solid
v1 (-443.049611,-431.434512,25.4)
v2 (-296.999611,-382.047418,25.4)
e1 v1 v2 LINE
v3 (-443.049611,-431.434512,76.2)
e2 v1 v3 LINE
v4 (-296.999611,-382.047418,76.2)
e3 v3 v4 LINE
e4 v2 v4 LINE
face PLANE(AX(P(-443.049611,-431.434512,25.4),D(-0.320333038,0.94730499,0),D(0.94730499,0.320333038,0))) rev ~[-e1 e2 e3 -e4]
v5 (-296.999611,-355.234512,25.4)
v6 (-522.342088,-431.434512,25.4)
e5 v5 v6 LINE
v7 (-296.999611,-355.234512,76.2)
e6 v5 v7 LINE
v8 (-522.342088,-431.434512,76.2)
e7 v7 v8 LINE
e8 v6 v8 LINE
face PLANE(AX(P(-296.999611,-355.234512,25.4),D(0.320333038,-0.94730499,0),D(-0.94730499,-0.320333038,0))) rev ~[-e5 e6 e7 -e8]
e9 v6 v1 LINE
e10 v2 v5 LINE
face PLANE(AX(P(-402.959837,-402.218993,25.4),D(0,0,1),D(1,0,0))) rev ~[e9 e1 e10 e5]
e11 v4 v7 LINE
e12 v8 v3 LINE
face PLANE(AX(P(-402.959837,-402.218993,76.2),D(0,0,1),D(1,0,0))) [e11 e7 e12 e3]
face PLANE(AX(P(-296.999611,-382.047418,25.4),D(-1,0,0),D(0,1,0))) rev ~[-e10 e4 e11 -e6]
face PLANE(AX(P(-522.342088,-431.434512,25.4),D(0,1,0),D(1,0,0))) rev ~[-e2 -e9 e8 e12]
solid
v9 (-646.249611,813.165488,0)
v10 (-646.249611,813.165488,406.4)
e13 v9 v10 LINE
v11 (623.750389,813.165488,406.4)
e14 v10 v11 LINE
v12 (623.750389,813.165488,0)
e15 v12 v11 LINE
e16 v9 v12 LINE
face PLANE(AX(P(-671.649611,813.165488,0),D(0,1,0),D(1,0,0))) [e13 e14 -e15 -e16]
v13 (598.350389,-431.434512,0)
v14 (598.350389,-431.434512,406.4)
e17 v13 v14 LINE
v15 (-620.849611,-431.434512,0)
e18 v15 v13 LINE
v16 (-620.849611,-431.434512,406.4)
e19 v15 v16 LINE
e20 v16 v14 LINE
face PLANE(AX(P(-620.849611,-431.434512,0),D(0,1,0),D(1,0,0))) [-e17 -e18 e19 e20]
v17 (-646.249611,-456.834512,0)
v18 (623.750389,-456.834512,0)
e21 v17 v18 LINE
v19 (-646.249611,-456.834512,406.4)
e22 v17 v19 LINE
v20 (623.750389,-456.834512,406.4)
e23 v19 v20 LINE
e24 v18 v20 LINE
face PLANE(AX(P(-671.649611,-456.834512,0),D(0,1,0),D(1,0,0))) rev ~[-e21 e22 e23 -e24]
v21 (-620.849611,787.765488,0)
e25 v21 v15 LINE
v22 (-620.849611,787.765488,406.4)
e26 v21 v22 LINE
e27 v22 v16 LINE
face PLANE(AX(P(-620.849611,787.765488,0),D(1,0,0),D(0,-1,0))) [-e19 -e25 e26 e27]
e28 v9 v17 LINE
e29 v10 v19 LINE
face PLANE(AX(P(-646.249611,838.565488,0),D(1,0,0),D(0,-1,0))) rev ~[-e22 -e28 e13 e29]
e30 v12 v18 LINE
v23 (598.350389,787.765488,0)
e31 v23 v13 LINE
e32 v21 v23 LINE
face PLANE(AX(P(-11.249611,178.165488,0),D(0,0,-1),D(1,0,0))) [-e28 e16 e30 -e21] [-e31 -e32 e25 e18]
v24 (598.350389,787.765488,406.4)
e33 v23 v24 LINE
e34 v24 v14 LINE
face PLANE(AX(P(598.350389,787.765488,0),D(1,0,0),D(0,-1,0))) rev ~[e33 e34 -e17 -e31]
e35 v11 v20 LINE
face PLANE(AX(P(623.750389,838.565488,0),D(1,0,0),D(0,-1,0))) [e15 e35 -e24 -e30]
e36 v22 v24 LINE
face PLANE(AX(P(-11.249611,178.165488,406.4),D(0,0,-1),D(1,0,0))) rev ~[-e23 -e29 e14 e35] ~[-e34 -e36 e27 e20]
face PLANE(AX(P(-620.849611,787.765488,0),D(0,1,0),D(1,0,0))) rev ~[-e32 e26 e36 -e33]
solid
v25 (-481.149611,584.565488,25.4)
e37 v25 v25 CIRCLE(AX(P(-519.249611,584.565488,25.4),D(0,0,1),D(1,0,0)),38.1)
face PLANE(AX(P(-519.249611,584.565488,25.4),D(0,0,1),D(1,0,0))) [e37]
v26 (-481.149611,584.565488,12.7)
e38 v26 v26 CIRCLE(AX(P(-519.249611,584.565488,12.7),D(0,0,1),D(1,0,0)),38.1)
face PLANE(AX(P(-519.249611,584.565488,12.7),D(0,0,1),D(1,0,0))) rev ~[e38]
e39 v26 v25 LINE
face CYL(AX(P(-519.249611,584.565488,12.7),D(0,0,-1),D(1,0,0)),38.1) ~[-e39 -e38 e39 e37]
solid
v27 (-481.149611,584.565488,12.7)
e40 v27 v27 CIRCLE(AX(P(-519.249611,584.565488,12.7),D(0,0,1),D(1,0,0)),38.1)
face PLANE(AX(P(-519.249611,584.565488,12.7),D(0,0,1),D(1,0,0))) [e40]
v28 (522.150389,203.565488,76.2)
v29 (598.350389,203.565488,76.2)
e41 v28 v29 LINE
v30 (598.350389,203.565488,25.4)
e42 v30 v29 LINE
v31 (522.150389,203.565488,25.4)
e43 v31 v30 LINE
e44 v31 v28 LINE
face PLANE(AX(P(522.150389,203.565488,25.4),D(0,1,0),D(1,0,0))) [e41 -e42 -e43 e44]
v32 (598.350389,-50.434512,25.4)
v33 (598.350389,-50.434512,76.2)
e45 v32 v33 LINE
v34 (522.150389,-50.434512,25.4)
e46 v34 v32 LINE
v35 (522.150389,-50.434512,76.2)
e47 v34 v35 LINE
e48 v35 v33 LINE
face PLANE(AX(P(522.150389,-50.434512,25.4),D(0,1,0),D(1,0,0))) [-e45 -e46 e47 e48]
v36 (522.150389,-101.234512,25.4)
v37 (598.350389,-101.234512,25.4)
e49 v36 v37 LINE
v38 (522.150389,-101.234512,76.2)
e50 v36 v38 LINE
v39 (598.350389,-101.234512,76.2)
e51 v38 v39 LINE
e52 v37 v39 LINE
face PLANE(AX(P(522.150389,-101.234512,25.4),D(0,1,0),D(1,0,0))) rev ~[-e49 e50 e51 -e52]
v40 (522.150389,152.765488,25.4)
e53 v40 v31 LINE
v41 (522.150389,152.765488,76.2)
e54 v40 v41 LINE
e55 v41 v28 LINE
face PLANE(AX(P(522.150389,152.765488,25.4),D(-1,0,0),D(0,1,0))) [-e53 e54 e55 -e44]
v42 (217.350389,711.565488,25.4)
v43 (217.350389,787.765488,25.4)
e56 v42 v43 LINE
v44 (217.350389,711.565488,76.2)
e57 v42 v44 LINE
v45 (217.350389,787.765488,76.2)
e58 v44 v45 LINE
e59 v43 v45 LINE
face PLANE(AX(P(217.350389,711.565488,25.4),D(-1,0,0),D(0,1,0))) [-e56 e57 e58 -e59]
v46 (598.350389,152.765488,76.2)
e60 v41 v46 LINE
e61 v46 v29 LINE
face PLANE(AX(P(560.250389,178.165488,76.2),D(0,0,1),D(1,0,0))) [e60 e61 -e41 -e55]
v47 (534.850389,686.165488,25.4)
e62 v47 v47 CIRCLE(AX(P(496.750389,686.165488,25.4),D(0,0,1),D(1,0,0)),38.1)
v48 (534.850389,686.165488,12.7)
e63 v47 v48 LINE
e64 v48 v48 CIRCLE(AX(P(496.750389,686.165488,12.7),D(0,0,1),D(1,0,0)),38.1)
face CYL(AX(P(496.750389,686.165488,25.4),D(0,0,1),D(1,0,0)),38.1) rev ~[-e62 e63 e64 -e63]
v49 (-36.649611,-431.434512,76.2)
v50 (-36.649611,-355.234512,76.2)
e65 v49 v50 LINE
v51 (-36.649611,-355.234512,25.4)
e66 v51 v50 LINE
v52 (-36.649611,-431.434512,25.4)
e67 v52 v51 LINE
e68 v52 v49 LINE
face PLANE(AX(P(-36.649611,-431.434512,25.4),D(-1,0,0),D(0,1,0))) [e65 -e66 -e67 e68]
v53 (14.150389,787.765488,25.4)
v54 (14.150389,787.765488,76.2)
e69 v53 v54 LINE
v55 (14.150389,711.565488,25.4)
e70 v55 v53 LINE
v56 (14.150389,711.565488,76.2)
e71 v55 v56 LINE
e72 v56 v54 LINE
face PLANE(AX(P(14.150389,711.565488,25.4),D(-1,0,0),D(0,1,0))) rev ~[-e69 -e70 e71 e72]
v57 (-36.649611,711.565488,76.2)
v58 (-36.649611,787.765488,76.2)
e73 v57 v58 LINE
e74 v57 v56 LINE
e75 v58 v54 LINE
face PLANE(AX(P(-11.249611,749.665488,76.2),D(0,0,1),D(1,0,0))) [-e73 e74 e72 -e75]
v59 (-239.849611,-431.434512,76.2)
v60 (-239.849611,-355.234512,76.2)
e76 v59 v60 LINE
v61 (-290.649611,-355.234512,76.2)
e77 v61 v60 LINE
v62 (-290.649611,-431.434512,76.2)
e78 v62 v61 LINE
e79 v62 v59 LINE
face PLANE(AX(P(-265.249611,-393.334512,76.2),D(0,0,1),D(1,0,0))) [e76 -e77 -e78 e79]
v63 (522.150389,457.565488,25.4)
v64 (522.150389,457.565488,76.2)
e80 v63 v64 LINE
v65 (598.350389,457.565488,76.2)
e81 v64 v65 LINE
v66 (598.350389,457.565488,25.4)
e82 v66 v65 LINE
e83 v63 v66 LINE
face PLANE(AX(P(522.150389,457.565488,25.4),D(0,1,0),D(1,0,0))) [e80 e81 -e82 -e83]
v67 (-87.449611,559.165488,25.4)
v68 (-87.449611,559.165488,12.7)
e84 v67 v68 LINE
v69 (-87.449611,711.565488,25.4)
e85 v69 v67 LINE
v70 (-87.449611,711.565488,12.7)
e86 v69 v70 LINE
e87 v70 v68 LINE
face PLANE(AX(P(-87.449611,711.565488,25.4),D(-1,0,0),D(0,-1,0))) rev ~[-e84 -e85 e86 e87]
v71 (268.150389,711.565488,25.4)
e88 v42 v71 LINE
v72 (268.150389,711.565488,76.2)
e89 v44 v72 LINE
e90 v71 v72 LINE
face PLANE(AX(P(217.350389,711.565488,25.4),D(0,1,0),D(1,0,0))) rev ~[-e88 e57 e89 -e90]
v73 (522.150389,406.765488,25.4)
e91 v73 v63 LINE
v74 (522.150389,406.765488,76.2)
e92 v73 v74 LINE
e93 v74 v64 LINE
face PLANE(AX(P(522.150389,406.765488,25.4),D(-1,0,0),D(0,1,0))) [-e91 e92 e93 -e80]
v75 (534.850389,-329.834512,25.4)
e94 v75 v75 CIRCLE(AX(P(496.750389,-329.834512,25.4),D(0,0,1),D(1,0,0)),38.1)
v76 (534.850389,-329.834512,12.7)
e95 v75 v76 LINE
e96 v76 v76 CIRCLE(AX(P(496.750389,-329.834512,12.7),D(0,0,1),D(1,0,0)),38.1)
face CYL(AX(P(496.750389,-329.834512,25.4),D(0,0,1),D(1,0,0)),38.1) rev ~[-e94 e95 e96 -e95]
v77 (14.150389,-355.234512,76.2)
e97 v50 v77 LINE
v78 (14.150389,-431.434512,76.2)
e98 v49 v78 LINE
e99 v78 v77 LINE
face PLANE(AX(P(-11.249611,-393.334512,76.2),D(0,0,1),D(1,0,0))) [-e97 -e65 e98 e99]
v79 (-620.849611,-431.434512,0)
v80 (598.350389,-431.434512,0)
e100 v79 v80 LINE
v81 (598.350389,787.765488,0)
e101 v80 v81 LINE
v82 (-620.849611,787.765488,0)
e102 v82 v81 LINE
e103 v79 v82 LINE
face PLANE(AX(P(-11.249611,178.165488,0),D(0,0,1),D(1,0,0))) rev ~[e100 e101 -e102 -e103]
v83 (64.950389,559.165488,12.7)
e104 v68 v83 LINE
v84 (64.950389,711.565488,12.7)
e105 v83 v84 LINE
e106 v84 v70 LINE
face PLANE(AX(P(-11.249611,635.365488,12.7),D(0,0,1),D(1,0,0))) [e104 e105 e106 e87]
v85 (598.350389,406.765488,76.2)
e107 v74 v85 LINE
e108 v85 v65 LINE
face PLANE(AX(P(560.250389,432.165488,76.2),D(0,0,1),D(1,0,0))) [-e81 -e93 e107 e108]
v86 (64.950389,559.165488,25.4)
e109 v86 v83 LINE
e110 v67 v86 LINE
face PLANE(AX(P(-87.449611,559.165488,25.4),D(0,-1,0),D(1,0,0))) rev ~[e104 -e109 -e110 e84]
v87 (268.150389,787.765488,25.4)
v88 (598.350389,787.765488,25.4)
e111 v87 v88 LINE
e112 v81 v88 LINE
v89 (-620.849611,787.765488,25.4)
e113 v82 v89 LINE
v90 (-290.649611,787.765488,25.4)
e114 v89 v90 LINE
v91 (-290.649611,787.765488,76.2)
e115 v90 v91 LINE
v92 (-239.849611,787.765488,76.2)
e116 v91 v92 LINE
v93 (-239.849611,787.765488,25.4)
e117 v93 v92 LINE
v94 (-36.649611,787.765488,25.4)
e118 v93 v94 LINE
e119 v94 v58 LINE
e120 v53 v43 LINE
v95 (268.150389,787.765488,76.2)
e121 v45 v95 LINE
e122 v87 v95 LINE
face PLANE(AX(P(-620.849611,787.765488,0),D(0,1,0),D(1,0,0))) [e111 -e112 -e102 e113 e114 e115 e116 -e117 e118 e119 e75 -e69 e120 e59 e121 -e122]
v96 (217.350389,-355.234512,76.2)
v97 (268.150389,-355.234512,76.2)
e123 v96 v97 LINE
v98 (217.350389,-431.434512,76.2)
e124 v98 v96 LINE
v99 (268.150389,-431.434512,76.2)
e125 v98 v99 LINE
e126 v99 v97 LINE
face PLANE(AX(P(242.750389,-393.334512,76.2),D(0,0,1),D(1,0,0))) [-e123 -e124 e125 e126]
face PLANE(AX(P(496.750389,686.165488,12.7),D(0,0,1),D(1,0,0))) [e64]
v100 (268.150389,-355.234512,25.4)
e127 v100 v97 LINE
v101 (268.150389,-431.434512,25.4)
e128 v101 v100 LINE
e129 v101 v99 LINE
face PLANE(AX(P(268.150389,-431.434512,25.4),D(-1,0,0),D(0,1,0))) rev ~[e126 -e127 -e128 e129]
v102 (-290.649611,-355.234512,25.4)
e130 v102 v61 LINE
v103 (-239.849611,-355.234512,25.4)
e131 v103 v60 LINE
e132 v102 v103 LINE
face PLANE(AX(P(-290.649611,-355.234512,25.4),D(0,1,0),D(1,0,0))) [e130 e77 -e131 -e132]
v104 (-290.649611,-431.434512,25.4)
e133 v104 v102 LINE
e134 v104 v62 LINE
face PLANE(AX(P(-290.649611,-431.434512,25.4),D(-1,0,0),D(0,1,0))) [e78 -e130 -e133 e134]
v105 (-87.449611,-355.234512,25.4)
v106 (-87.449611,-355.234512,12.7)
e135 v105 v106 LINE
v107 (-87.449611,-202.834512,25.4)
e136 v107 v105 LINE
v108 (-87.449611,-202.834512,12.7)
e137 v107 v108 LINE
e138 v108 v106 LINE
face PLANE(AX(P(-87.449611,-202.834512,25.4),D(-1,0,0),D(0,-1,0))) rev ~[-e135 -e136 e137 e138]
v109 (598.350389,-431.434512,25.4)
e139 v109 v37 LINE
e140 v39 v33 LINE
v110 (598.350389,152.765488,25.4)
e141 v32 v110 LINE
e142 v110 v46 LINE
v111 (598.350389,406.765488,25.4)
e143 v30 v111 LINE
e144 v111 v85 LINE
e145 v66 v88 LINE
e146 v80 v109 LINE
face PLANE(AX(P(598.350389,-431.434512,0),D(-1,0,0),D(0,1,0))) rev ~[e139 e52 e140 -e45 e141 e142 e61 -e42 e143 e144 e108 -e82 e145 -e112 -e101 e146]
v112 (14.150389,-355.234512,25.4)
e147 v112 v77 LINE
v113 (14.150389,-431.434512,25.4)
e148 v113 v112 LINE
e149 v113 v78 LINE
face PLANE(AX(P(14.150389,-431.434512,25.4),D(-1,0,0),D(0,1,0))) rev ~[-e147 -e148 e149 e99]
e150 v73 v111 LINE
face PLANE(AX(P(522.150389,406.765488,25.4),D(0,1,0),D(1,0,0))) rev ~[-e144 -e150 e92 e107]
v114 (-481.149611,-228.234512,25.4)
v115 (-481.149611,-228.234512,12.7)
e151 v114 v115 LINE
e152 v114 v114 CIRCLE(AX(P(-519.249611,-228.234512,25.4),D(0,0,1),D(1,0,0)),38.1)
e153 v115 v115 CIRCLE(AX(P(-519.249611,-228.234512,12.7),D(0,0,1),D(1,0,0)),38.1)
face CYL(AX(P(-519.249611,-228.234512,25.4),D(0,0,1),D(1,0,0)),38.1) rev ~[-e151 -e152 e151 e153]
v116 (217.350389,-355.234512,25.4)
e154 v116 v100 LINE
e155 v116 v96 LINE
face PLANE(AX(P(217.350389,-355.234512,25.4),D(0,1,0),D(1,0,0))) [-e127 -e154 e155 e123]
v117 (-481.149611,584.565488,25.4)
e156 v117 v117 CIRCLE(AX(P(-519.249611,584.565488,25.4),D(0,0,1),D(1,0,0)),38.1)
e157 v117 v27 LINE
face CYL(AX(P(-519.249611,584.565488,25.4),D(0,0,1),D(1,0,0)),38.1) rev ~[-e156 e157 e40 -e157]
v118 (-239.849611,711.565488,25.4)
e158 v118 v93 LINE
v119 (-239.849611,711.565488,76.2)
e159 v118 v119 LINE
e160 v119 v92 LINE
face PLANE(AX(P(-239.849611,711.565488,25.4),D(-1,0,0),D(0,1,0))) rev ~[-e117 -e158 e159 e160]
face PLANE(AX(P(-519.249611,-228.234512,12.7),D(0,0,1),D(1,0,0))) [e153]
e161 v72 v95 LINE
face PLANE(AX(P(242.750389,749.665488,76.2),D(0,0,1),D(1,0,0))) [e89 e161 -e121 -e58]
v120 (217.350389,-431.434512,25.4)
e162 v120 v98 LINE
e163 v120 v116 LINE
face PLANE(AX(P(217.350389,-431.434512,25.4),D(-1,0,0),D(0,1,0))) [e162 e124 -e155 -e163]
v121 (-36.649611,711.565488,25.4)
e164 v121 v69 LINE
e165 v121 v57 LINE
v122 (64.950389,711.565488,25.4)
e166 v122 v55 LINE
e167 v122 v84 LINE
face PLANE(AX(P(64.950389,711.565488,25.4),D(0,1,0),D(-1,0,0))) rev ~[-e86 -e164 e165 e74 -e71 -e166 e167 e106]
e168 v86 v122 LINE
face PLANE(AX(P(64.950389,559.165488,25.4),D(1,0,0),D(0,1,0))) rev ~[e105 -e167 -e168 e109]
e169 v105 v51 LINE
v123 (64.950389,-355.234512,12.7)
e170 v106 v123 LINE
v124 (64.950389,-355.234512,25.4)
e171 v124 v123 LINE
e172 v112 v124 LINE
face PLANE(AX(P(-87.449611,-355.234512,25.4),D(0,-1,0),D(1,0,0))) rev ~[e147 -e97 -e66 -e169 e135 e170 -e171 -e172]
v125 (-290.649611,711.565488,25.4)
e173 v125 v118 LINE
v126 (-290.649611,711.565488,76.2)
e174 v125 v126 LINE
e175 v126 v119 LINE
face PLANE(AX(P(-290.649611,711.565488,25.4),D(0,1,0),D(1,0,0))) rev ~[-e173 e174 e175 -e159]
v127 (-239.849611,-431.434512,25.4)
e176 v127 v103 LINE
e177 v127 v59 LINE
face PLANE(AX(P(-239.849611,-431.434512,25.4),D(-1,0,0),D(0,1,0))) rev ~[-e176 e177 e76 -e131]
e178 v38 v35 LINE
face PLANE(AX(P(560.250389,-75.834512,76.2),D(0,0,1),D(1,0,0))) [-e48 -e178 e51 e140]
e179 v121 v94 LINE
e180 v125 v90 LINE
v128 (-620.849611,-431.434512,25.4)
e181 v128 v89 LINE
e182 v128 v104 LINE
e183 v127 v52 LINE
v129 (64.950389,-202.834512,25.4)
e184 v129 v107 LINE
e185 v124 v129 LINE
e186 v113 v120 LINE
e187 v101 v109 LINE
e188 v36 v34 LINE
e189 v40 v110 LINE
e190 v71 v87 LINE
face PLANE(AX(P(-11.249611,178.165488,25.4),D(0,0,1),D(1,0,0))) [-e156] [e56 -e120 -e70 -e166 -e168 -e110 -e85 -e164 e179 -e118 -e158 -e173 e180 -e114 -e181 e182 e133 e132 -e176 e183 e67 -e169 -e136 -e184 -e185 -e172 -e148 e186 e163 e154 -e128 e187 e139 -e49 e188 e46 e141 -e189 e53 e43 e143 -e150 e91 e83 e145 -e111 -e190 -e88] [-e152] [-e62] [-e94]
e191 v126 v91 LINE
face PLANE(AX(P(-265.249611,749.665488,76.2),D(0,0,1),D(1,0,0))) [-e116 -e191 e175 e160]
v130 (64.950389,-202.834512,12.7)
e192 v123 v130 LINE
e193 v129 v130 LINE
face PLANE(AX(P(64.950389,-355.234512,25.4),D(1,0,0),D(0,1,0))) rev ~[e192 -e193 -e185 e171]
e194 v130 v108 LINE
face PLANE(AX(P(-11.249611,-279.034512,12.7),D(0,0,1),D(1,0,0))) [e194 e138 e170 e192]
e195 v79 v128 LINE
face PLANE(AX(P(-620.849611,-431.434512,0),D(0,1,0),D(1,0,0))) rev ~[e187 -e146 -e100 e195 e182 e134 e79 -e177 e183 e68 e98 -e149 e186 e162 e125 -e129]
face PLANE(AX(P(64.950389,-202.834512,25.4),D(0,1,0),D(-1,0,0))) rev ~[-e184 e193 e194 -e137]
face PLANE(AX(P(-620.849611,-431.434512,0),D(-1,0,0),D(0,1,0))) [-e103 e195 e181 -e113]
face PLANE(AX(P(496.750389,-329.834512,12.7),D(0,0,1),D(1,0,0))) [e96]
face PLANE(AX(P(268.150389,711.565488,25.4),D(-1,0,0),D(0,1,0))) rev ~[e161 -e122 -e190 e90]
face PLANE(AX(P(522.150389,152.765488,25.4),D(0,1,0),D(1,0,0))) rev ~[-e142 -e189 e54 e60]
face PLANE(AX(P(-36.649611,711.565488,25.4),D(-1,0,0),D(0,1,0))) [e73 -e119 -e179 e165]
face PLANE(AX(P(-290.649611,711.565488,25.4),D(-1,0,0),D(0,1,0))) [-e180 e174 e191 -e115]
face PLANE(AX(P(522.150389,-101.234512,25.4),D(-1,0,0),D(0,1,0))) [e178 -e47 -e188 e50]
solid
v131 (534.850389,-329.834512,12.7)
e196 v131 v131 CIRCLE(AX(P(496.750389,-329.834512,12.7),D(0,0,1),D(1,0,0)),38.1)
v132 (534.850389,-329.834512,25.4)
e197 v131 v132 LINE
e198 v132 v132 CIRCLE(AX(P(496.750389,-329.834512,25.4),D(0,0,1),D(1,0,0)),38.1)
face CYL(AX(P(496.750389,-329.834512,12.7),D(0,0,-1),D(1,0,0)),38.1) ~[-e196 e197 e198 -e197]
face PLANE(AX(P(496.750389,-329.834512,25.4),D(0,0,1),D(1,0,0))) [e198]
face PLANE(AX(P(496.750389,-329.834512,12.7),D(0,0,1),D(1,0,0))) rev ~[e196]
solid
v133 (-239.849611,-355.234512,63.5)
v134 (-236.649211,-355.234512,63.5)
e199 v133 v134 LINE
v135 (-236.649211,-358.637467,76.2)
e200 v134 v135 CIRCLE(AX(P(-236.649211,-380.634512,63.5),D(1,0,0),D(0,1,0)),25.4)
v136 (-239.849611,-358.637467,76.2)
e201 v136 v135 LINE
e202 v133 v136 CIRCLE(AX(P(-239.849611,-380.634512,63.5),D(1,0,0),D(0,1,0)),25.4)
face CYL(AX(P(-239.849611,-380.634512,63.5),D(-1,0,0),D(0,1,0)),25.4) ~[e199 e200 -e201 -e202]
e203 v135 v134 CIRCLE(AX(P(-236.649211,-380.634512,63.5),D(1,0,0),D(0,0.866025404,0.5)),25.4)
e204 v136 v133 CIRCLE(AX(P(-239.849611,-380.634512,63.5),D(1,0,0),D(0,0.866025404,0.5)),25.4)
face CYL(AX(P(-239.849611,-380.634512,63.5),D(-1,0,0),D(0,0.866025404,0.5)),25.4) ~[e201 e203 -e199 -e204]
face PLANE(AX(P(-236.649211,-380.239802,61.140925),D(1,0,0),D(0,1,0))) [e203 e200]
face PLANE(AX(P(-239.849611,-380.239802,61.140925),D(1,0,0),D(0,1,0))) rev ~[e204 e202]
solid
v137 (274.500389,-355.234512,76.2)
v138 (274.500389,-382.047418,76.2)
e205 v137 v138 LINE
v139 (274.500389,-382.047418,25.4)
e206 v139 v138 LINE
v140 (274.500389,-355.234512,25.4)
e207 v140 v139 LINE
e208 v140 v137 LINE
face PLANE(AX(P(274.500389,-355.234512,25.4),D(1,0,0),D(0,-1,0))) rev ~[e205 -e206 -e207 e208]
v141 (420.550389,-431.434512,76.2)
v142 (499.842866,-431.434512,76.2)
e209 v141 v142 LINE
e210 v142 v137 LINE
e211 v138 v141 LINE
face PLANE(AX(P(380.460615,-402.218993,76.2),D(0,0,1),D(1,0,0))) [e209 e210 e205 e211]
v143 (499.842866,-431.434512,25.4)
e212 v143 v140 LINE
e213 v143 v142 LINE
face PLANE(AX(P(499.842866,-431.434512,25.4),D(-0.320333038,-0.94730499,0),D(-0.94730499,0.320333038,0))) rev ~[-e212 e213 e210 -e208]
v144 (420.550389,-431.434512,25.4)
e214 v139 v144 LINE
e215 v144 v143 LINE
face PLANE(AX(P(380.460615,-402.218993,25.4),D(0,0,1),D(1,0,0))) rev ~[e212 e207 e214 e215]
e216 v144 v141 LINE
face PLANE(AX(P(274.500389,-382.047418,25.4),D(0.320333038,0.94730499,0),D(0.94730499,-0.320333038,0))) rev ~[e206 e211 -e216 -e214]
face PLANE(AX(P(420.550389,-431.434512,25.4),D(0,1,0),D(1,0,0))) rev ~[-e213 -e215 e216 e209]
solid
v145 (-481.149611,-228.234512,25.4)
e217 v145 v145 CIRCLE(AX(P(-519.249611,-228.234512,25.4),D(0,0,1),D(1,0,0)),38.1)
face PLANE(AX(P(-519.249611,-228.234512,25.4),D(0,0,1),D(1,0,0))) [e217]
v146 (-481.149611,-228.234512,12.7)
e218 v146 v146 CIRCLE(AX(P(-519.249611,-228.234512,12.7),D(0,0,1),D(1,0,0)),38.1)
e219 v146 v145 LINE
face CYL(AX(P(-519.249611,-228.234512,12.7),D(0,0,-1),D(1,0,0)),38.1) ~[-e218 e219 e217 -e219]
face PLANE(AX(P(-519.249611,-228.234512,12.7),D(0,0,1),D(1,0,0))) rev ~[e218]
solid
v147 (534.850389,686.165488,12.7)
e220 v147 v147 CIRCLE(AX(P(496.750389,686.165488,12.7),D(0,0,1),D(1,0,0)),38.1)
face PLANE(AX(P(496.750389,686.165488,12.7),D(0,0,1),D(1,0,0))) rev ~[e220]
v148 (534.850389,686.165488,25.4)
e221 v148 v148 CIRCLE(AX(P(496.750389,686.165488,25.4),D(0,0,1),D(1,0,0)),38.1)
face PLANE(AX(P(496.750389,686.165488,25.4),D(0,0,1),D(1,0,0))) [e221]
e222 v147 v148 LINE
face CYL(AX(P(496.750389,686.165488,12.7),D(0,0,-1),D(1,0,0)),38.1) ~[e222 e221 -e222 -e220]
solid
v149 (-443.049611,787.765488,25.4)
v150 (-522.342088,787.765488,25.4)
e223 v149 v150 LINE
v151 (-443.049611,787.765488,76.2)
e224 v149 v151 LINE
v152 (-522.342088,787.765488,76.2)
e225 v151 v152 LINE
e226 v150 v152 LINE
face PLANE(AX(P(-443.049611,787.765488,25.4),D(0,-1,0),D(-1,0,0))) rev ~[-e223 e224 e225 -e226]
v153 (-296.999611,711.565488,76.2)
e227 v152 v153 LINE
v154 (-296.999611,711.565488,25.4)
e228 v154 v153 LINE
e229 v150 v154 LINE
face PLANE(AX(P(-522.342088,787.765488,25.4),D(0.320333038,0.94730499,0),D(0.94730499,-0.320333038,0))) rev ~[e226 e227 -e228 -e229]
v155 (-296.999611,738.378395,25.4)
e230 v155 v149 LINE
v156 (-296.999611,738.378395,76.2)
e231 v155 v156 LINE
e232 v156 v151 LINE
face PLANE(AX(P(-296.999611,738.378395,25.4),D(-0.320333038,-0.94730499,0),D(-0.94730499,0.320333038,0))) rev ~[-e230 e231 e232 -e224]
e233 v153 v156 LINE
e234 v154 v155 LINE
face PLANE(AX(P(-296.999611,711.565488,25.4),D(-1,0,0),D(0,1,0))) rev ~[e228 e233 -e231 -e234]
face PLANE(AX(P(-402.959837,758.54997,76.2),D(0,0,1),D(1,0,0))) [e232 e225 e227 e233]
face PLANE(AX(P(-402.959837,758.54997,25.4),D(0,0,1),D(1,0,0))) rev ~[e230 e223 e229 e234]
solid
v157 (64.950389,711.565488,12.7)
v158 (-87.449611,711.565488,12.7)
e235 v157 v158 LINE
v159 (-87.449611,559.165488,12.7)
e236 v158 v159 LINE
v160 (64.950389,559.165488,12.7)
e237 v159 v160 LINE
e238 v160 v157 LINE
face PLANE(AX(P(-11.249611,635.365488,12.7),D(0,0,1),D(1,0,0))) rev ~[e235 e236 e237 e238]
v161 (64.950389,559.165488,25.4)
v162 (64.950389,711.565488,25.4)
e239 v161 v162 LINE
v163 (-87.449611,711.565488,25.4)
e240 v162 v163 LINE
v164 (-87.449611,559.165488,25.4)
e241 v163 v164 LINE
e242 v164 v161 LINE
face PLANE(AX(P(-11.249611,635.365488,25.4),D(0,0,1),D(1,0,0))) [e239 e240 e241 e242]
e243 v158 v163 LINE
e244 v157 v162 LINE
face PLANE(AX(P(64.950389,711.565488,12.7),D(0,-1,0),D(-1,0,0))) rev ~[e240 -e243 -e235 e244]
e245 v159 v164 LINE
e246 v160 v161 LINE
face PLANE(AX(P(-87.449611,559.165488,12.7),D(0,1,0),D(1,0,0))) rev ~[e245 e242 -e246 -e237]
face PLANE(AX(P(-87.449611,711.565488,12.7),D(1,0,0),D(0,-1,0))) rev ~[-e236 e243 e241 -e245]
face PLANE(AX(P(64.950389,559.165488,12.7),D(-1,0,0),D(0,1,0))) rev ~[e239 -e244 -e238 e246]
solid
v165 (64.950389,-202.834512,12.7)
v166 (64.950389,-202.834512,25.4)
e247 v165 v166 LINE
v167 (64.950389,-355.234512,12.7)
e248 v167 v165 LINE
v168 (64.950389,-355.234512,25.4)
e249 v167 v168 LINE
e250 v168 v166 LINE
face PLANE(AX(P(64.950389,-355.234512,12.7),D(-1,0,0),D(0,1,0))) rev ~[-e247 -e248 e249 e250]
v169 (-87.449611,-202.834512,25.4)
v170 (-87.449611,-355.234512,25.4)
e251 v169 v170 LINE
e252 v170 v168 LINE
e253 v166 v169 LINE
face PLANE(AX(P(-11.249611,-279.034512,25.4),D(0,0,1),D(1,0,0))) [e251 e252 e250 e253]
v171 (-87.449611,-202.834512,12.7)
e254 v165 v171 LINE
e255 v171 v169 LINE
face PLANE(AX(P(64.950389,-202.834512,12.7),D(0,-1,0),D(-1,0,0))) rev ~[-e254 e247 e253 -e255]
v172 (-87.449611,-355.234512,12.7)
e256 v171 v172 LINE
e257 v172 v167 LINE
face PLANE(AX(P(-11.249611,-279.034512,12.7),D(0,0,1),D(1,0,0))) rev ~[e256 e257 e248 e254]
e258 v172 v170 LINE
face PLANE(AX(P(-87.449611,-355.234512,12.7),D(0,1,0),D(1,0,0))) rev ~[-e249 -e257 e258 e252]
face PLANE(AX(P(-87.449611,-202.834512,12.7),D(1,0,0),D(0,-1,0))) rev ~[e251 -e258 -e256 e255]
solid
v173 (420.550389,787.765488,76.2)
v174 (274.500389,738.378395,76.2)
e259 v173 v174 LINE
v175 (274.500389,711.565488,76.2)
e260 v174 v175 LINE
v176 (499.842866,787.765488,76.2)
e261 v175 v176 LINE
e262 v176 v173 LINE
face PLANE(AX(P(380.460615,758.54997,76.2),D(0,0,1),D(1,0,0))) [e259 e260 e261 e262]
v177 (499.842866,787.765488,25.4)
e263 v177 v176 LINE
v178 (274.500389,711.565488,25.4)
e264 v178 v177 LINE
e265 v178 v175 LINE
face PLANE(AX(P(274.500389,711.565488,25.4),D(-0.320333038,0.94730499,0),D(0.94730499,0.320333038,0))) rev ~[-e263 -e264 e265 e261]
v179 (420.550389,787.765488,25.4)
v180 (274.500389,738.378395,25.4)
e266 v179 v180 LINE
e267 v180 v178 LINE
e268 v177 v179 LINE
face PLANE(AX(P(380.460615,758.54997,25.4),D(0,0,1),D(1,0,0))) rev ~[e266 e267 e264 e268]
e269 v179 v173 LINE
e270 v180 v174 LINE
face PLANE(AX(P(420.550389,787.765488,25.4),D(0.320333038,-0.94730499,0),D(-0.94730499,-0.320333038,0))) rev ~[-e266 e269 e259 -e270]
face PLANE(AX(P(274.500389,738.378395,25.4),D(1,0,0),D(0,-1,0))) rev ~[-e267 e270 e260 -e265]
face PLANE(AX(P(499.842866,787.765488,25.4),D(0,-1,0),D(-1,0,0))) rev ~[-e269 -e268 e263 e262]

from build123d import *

# Parameters (mm, degrees)
F0_W      = 1219.2
F0_H      = 1219.2
F1_DEPTH  = 25.4
F2_W      = 50.8
F2_H      = 76.2
F3_DEPTH  = 50.8
F5_DEPTH  = 50.8
F6_W      = 76.2
F6_H      = 50.8
F7_DEPTH  = 50.8
F8_W      = 1320.8
F8_H      = 1320.8
F8_W_2    = 1219.2
F8_H_2    = 1219.2
F9_DEPTH  = 609.6
F10_DEPTH = 25.4
F11_DEPTH = 25.4
F12_DEPTH = 25.4
F13_DEPTH = 25.4
F14_DEPTH = 203.2
F16_DEPTH = 12.7
F17_DEPTH = 12.7
F18_R     = 38.1
F19_DEPTH = 12.7
F20_DEPTH = 12.7
F22_DEPTH = 3.2004


with BuildPart() as f1:
    # F0 (on Top) → F1 (new body)
    with BuildSketch(Plane.XY):
        with Locations((-11.2496111542, 178.1654882305)):
            Rectangle(F0_W, F0_H)
    extrude(amount=F1_DEPTH)

    # F2 (on face) → F3 (join)
    with BuildSketch(Plane.XY.offset(25.4)):
        with Locations((-265.2496111542, 749.6654882305)):
            Rectangle(F2_W, F2_H)
        with Locations((-11.2496111542, 749.6654882305)):
            Rectangle(F2_W, F2_H)
        with Locations((242.7503888458, 749.6654882305)):
            Rectangle(F2_W, F2_H)
        with Locations((-265.2496111542, -393.3345117695)):
            Rectangle(F2_W, F2_H)
        with Locations((-11.2496111542, -393.3345117695)):
            Rectangle(F2_W, F2_H)
        with Locations((242.7503888458, -393.3345117695)):
            Rectangle(F2_W, F2_H)
    extrude(amount=F3_DEPTH)

    # F6 (on face) → F7 (join)
    with BuildSketch(Plane.XY.offset(25.4)):
        with Locations((560.2503888458, 432.1654882305)):
            Rectangle(F6_W, F6_H)
        with Locations((560.2503888458, 178.1654882305)):
            Rectangle(F6_W, F6_H)
        with Locations((560.2503888458, -75.8345117695)):
            Rectangle(F6_W, F6_H)
    extrude(amount=F7_DEPTH)

    # F15 (on face) → F16 (cut)
    with BuildSketch(Plane.XY.offset(25.4)):
        Polygon((14.1503888458, 711.5654882305), (-36.6496111542, 711.5654882305), (-87.4496111542, 711.5654882305), (-87.4496111542, 559.1654882305), (64.9503888458, 559.1654882305), (64.9503888458, 711.5654882305), align=None)
        Polygon((64.9503888458, -355.2345117695), (64.9503888458, -202.8345117695), (-87.4496111542, -202.8345117695), (-87.4496111542, -355.2345117695), (-36.6496111542, -355.2345117695), (14.1503888458, -355.2345117695), align=None)
    extrude(amount=-F16_DEPTH, mode=Mode.SUBTRACT)


with BuildPart() as f5:
    # F4 (on face) → F5 (new body)
    with BuildSketch(Plane.XY.offset(25.4)):
        Polygon((-296.9996111542, 738.3783945932), (-443.0496111542, 787.7654882305), (-522.3420879098, 787.7654882305), (-296.9996111542, 711.5654882305), align=None)
    extrude(amount=F5_DEPTH)


with BuildPart() as f5b:
    # F4 (on face) → F5, piece 2 (new body)
    with BuildSketch(Plane.XY.offset(25.4)):
        Polygon((274.5003888458, 711.5654882305), (499.8428656014, 787.7654882305), (420.5503888458, 787.7654882305), (274.5003888458, 738.3783945932), align=None)
    extrude(amount=F5_DEPTH)


with BuildPart() as f5c:
    # F4 (on face) → F5, piece 3 (new body)
    with BuildSketch(Plane.XY.offset(25.4)):
        Polygon((499.8428656014, -431.4345117695), (274.5003888458, -355.2345117695), (274.5003888458, -382.0474181321), (420.5503888458, -431.4345117695), align=None)
    extrude(amount=F5_DEPTH)


with BuildPart() as f5d:
    # F4 (on face) → F5, piece 4 (new body)
    with BuildSketch(Plane.XY.offset(25.4)):
        Polygon((-522.3420879098, -431.4345117695), (-443.0496111542, -431.4345117695), (-296.9996111542, -382.0474181321), (-296.9996111542, -355.2345117695), align=None)
    extrude(amount=F5_DEPTH)


with BuildPart() as f9:
    # F8 (on face) → F9 (new body)
    with BuildSketch(Plane(origin=(0, 0, 0), x_dir=(1, 0, 0), z_dir=(0, 0, -1))):
        with Locations((-11.2496111542, -178.1654882305)):
            Rectangle(F8_W, F8_H)
        with Locations((-11.2496111542, -178.1654882305)):
            Rectangle(F8_W_2, F8_H_2, mode=Mode.SUBTRACT)
    extrude(amount=-F9_DEPTH)

    # F10 (cut): a face of the model
    f10_faces = [f9.faces().sort_by_distance(p)[0] for p in [
        (-11.2496111542, 838.5654882305, 304.8),
    ]]
    extrude(f10_faces, amount=-F10_DEPTH, mode=Mode.SUBTRACT)

    # F11 (cut): a face of the model
    f11_faces = [f9.faces().sort_by_distance(p)[0] for p in [
        (-671.6496111542, 165.4654882305, 304.8),
    ]]
    extrude(f11_faces, amount=-F11_DEPTH, mode=Mode.SUBTRACT)

    # F12 (cut): a face of the model
    f12_faces = [f9.faces().sort_by_distance(p)[0] for p in [
        (1.4503888458, -482.2345117695, 304.8),
    ]]
    extrude(f12_faces, amount=-F12_DEPTH, mode=Mode.SUBTRACT)

    # F13 (cut): a face of the model
    f13_faces = [f9.faces().sort_by_distance(p)[0] for p in [
        (649.1503888458, 178.1654882305, 304.8),
    ]]
    extrude(f13_faces, amount=-F13_DEPTH, mode=Mode.SUBTRACT)

    # F14 (cut): a face of the model
    f14_faces = [f9.faces().sort_by_distance(p)[0] for p in [
        (605.7898766037, 178.1654882305, 609.6),
    ]]
    extrude(f14_faces, amount=-F14_DEPTH, mode=Mode.SUBTRACT)


with BuildPart() as f17:
    # F17 (new): a face of the model
    f17_faces = [f1.part.faces().sort_by_distance(p)[0] for p in [
        (-11.2496111542, 635.3654882305, 12.7),
    ]]
    extrude(f17_faces, amount=F17_DEPTH)


with BuildPart() as f17b:
    # F17#2 (new): a face of the model
    f17_2_faces = [f1.part.faces().sort_by_distance(p)[0] for p in [
        (-11.2496111542, -279.0345117695, 12.7),
    ]]
    extrude(f17_2_faces, amount=F17_DEPTH)


with BuildPart() as f1_1:
    add(f1.part)

    # F18 (on face) → F19 (cut)
    with BuildSketch(Plane.XY.offset(25.4)):
        with Locations((-519.2496111542, 584.5654882305)):
            Circle(F18_R)
        with Locations((-519.2496111542, -228.2345117695)):
            Circle(F18_R)
        with Locations((496.7503888458, -329.8345117695)):
            Circle(F18_R)
        with Locations((496.7503888458, 686.1654882305)):
            Circle(F18_R)
    extrude(amount=-F19_DEPTH, mode=Mode.SUBTRACT)


with BuildPart() as f20:
    # F20 (new): a face of the model
    f20_faces = [f1_1.part.faces().sort_by_distance(p)[0] for p in [
        (-519.2496111542, -228.2345117695, 12.7),
    ]]
    extrude(f20_faces, amount=F20_DEPTH)


with BuildPart() as f20b:
    # F20#2 (new): a face of the model
    f20_2_faces = [f1_1.part.faces().sort_by_distance(p)[0] for p in [
        (-519.2496111542, 584.5654882305, 12.7),
    ]]
    extrude(f20_2_faces, amount=F20_DEPTH)


with BuildPart() as f20c:
    # F20#3 (new): a face of the model
    f20_3_faces = [f1_1.part.faces().sort_by_distance(p)[0] for p in [
        (496.7503888458, 686.1654882305, 12.7),
    ]]
    extrude(f20_3_faces, amount=F20_DEPTH)


with BuildPart() as f20d:
    # F20#4 (new): a face of the model
    f20_4_faces = [f1_1.part.faces().sort_by_distance(p)[0] for p in [
        (496.7503888458, -329.8345117695, 12.7),
    ]]
    extrude(f20_4_faces, amount=F20_DEPTH)


with BuildPart() as f22:
    # F21 (on face) → F22 (new body)
    with BuildSketch(Plane.YZ.offset(-239.8496111542)):
        with BuildLine():
            ThreePointArc((-402.6315570256, 76.2), (-387.2085155151, 38.9654840123), (-355.2345117695, 63.5))
            ThreePointArc((-355.2345117695, 63.5), (-356.0999957817, 70.0740037456), (-358.6374665134, 76.2))
            Line((-358.6374665134, 76.2), (-402.6315570256, 76.2))
        make_face()
        with BuildLine():
            Line((-402.6315570256, 76.2), (-358.6374665134, 76.2))
            ThreePointArc((-358.6374665134, 76.2), (-380.6345117695, 88.9), (-402.6315570256, 76.2))
        make_face()
    extrude(amount=F22_DEPTH)


solid = Compound([f5.part, f5b.part, f5c.part, f5d.part, f9.part, f17.part, f17b.part, f1_1.part, f20.part, f20b.part, f20c.part, f20d.part, f22.part])
